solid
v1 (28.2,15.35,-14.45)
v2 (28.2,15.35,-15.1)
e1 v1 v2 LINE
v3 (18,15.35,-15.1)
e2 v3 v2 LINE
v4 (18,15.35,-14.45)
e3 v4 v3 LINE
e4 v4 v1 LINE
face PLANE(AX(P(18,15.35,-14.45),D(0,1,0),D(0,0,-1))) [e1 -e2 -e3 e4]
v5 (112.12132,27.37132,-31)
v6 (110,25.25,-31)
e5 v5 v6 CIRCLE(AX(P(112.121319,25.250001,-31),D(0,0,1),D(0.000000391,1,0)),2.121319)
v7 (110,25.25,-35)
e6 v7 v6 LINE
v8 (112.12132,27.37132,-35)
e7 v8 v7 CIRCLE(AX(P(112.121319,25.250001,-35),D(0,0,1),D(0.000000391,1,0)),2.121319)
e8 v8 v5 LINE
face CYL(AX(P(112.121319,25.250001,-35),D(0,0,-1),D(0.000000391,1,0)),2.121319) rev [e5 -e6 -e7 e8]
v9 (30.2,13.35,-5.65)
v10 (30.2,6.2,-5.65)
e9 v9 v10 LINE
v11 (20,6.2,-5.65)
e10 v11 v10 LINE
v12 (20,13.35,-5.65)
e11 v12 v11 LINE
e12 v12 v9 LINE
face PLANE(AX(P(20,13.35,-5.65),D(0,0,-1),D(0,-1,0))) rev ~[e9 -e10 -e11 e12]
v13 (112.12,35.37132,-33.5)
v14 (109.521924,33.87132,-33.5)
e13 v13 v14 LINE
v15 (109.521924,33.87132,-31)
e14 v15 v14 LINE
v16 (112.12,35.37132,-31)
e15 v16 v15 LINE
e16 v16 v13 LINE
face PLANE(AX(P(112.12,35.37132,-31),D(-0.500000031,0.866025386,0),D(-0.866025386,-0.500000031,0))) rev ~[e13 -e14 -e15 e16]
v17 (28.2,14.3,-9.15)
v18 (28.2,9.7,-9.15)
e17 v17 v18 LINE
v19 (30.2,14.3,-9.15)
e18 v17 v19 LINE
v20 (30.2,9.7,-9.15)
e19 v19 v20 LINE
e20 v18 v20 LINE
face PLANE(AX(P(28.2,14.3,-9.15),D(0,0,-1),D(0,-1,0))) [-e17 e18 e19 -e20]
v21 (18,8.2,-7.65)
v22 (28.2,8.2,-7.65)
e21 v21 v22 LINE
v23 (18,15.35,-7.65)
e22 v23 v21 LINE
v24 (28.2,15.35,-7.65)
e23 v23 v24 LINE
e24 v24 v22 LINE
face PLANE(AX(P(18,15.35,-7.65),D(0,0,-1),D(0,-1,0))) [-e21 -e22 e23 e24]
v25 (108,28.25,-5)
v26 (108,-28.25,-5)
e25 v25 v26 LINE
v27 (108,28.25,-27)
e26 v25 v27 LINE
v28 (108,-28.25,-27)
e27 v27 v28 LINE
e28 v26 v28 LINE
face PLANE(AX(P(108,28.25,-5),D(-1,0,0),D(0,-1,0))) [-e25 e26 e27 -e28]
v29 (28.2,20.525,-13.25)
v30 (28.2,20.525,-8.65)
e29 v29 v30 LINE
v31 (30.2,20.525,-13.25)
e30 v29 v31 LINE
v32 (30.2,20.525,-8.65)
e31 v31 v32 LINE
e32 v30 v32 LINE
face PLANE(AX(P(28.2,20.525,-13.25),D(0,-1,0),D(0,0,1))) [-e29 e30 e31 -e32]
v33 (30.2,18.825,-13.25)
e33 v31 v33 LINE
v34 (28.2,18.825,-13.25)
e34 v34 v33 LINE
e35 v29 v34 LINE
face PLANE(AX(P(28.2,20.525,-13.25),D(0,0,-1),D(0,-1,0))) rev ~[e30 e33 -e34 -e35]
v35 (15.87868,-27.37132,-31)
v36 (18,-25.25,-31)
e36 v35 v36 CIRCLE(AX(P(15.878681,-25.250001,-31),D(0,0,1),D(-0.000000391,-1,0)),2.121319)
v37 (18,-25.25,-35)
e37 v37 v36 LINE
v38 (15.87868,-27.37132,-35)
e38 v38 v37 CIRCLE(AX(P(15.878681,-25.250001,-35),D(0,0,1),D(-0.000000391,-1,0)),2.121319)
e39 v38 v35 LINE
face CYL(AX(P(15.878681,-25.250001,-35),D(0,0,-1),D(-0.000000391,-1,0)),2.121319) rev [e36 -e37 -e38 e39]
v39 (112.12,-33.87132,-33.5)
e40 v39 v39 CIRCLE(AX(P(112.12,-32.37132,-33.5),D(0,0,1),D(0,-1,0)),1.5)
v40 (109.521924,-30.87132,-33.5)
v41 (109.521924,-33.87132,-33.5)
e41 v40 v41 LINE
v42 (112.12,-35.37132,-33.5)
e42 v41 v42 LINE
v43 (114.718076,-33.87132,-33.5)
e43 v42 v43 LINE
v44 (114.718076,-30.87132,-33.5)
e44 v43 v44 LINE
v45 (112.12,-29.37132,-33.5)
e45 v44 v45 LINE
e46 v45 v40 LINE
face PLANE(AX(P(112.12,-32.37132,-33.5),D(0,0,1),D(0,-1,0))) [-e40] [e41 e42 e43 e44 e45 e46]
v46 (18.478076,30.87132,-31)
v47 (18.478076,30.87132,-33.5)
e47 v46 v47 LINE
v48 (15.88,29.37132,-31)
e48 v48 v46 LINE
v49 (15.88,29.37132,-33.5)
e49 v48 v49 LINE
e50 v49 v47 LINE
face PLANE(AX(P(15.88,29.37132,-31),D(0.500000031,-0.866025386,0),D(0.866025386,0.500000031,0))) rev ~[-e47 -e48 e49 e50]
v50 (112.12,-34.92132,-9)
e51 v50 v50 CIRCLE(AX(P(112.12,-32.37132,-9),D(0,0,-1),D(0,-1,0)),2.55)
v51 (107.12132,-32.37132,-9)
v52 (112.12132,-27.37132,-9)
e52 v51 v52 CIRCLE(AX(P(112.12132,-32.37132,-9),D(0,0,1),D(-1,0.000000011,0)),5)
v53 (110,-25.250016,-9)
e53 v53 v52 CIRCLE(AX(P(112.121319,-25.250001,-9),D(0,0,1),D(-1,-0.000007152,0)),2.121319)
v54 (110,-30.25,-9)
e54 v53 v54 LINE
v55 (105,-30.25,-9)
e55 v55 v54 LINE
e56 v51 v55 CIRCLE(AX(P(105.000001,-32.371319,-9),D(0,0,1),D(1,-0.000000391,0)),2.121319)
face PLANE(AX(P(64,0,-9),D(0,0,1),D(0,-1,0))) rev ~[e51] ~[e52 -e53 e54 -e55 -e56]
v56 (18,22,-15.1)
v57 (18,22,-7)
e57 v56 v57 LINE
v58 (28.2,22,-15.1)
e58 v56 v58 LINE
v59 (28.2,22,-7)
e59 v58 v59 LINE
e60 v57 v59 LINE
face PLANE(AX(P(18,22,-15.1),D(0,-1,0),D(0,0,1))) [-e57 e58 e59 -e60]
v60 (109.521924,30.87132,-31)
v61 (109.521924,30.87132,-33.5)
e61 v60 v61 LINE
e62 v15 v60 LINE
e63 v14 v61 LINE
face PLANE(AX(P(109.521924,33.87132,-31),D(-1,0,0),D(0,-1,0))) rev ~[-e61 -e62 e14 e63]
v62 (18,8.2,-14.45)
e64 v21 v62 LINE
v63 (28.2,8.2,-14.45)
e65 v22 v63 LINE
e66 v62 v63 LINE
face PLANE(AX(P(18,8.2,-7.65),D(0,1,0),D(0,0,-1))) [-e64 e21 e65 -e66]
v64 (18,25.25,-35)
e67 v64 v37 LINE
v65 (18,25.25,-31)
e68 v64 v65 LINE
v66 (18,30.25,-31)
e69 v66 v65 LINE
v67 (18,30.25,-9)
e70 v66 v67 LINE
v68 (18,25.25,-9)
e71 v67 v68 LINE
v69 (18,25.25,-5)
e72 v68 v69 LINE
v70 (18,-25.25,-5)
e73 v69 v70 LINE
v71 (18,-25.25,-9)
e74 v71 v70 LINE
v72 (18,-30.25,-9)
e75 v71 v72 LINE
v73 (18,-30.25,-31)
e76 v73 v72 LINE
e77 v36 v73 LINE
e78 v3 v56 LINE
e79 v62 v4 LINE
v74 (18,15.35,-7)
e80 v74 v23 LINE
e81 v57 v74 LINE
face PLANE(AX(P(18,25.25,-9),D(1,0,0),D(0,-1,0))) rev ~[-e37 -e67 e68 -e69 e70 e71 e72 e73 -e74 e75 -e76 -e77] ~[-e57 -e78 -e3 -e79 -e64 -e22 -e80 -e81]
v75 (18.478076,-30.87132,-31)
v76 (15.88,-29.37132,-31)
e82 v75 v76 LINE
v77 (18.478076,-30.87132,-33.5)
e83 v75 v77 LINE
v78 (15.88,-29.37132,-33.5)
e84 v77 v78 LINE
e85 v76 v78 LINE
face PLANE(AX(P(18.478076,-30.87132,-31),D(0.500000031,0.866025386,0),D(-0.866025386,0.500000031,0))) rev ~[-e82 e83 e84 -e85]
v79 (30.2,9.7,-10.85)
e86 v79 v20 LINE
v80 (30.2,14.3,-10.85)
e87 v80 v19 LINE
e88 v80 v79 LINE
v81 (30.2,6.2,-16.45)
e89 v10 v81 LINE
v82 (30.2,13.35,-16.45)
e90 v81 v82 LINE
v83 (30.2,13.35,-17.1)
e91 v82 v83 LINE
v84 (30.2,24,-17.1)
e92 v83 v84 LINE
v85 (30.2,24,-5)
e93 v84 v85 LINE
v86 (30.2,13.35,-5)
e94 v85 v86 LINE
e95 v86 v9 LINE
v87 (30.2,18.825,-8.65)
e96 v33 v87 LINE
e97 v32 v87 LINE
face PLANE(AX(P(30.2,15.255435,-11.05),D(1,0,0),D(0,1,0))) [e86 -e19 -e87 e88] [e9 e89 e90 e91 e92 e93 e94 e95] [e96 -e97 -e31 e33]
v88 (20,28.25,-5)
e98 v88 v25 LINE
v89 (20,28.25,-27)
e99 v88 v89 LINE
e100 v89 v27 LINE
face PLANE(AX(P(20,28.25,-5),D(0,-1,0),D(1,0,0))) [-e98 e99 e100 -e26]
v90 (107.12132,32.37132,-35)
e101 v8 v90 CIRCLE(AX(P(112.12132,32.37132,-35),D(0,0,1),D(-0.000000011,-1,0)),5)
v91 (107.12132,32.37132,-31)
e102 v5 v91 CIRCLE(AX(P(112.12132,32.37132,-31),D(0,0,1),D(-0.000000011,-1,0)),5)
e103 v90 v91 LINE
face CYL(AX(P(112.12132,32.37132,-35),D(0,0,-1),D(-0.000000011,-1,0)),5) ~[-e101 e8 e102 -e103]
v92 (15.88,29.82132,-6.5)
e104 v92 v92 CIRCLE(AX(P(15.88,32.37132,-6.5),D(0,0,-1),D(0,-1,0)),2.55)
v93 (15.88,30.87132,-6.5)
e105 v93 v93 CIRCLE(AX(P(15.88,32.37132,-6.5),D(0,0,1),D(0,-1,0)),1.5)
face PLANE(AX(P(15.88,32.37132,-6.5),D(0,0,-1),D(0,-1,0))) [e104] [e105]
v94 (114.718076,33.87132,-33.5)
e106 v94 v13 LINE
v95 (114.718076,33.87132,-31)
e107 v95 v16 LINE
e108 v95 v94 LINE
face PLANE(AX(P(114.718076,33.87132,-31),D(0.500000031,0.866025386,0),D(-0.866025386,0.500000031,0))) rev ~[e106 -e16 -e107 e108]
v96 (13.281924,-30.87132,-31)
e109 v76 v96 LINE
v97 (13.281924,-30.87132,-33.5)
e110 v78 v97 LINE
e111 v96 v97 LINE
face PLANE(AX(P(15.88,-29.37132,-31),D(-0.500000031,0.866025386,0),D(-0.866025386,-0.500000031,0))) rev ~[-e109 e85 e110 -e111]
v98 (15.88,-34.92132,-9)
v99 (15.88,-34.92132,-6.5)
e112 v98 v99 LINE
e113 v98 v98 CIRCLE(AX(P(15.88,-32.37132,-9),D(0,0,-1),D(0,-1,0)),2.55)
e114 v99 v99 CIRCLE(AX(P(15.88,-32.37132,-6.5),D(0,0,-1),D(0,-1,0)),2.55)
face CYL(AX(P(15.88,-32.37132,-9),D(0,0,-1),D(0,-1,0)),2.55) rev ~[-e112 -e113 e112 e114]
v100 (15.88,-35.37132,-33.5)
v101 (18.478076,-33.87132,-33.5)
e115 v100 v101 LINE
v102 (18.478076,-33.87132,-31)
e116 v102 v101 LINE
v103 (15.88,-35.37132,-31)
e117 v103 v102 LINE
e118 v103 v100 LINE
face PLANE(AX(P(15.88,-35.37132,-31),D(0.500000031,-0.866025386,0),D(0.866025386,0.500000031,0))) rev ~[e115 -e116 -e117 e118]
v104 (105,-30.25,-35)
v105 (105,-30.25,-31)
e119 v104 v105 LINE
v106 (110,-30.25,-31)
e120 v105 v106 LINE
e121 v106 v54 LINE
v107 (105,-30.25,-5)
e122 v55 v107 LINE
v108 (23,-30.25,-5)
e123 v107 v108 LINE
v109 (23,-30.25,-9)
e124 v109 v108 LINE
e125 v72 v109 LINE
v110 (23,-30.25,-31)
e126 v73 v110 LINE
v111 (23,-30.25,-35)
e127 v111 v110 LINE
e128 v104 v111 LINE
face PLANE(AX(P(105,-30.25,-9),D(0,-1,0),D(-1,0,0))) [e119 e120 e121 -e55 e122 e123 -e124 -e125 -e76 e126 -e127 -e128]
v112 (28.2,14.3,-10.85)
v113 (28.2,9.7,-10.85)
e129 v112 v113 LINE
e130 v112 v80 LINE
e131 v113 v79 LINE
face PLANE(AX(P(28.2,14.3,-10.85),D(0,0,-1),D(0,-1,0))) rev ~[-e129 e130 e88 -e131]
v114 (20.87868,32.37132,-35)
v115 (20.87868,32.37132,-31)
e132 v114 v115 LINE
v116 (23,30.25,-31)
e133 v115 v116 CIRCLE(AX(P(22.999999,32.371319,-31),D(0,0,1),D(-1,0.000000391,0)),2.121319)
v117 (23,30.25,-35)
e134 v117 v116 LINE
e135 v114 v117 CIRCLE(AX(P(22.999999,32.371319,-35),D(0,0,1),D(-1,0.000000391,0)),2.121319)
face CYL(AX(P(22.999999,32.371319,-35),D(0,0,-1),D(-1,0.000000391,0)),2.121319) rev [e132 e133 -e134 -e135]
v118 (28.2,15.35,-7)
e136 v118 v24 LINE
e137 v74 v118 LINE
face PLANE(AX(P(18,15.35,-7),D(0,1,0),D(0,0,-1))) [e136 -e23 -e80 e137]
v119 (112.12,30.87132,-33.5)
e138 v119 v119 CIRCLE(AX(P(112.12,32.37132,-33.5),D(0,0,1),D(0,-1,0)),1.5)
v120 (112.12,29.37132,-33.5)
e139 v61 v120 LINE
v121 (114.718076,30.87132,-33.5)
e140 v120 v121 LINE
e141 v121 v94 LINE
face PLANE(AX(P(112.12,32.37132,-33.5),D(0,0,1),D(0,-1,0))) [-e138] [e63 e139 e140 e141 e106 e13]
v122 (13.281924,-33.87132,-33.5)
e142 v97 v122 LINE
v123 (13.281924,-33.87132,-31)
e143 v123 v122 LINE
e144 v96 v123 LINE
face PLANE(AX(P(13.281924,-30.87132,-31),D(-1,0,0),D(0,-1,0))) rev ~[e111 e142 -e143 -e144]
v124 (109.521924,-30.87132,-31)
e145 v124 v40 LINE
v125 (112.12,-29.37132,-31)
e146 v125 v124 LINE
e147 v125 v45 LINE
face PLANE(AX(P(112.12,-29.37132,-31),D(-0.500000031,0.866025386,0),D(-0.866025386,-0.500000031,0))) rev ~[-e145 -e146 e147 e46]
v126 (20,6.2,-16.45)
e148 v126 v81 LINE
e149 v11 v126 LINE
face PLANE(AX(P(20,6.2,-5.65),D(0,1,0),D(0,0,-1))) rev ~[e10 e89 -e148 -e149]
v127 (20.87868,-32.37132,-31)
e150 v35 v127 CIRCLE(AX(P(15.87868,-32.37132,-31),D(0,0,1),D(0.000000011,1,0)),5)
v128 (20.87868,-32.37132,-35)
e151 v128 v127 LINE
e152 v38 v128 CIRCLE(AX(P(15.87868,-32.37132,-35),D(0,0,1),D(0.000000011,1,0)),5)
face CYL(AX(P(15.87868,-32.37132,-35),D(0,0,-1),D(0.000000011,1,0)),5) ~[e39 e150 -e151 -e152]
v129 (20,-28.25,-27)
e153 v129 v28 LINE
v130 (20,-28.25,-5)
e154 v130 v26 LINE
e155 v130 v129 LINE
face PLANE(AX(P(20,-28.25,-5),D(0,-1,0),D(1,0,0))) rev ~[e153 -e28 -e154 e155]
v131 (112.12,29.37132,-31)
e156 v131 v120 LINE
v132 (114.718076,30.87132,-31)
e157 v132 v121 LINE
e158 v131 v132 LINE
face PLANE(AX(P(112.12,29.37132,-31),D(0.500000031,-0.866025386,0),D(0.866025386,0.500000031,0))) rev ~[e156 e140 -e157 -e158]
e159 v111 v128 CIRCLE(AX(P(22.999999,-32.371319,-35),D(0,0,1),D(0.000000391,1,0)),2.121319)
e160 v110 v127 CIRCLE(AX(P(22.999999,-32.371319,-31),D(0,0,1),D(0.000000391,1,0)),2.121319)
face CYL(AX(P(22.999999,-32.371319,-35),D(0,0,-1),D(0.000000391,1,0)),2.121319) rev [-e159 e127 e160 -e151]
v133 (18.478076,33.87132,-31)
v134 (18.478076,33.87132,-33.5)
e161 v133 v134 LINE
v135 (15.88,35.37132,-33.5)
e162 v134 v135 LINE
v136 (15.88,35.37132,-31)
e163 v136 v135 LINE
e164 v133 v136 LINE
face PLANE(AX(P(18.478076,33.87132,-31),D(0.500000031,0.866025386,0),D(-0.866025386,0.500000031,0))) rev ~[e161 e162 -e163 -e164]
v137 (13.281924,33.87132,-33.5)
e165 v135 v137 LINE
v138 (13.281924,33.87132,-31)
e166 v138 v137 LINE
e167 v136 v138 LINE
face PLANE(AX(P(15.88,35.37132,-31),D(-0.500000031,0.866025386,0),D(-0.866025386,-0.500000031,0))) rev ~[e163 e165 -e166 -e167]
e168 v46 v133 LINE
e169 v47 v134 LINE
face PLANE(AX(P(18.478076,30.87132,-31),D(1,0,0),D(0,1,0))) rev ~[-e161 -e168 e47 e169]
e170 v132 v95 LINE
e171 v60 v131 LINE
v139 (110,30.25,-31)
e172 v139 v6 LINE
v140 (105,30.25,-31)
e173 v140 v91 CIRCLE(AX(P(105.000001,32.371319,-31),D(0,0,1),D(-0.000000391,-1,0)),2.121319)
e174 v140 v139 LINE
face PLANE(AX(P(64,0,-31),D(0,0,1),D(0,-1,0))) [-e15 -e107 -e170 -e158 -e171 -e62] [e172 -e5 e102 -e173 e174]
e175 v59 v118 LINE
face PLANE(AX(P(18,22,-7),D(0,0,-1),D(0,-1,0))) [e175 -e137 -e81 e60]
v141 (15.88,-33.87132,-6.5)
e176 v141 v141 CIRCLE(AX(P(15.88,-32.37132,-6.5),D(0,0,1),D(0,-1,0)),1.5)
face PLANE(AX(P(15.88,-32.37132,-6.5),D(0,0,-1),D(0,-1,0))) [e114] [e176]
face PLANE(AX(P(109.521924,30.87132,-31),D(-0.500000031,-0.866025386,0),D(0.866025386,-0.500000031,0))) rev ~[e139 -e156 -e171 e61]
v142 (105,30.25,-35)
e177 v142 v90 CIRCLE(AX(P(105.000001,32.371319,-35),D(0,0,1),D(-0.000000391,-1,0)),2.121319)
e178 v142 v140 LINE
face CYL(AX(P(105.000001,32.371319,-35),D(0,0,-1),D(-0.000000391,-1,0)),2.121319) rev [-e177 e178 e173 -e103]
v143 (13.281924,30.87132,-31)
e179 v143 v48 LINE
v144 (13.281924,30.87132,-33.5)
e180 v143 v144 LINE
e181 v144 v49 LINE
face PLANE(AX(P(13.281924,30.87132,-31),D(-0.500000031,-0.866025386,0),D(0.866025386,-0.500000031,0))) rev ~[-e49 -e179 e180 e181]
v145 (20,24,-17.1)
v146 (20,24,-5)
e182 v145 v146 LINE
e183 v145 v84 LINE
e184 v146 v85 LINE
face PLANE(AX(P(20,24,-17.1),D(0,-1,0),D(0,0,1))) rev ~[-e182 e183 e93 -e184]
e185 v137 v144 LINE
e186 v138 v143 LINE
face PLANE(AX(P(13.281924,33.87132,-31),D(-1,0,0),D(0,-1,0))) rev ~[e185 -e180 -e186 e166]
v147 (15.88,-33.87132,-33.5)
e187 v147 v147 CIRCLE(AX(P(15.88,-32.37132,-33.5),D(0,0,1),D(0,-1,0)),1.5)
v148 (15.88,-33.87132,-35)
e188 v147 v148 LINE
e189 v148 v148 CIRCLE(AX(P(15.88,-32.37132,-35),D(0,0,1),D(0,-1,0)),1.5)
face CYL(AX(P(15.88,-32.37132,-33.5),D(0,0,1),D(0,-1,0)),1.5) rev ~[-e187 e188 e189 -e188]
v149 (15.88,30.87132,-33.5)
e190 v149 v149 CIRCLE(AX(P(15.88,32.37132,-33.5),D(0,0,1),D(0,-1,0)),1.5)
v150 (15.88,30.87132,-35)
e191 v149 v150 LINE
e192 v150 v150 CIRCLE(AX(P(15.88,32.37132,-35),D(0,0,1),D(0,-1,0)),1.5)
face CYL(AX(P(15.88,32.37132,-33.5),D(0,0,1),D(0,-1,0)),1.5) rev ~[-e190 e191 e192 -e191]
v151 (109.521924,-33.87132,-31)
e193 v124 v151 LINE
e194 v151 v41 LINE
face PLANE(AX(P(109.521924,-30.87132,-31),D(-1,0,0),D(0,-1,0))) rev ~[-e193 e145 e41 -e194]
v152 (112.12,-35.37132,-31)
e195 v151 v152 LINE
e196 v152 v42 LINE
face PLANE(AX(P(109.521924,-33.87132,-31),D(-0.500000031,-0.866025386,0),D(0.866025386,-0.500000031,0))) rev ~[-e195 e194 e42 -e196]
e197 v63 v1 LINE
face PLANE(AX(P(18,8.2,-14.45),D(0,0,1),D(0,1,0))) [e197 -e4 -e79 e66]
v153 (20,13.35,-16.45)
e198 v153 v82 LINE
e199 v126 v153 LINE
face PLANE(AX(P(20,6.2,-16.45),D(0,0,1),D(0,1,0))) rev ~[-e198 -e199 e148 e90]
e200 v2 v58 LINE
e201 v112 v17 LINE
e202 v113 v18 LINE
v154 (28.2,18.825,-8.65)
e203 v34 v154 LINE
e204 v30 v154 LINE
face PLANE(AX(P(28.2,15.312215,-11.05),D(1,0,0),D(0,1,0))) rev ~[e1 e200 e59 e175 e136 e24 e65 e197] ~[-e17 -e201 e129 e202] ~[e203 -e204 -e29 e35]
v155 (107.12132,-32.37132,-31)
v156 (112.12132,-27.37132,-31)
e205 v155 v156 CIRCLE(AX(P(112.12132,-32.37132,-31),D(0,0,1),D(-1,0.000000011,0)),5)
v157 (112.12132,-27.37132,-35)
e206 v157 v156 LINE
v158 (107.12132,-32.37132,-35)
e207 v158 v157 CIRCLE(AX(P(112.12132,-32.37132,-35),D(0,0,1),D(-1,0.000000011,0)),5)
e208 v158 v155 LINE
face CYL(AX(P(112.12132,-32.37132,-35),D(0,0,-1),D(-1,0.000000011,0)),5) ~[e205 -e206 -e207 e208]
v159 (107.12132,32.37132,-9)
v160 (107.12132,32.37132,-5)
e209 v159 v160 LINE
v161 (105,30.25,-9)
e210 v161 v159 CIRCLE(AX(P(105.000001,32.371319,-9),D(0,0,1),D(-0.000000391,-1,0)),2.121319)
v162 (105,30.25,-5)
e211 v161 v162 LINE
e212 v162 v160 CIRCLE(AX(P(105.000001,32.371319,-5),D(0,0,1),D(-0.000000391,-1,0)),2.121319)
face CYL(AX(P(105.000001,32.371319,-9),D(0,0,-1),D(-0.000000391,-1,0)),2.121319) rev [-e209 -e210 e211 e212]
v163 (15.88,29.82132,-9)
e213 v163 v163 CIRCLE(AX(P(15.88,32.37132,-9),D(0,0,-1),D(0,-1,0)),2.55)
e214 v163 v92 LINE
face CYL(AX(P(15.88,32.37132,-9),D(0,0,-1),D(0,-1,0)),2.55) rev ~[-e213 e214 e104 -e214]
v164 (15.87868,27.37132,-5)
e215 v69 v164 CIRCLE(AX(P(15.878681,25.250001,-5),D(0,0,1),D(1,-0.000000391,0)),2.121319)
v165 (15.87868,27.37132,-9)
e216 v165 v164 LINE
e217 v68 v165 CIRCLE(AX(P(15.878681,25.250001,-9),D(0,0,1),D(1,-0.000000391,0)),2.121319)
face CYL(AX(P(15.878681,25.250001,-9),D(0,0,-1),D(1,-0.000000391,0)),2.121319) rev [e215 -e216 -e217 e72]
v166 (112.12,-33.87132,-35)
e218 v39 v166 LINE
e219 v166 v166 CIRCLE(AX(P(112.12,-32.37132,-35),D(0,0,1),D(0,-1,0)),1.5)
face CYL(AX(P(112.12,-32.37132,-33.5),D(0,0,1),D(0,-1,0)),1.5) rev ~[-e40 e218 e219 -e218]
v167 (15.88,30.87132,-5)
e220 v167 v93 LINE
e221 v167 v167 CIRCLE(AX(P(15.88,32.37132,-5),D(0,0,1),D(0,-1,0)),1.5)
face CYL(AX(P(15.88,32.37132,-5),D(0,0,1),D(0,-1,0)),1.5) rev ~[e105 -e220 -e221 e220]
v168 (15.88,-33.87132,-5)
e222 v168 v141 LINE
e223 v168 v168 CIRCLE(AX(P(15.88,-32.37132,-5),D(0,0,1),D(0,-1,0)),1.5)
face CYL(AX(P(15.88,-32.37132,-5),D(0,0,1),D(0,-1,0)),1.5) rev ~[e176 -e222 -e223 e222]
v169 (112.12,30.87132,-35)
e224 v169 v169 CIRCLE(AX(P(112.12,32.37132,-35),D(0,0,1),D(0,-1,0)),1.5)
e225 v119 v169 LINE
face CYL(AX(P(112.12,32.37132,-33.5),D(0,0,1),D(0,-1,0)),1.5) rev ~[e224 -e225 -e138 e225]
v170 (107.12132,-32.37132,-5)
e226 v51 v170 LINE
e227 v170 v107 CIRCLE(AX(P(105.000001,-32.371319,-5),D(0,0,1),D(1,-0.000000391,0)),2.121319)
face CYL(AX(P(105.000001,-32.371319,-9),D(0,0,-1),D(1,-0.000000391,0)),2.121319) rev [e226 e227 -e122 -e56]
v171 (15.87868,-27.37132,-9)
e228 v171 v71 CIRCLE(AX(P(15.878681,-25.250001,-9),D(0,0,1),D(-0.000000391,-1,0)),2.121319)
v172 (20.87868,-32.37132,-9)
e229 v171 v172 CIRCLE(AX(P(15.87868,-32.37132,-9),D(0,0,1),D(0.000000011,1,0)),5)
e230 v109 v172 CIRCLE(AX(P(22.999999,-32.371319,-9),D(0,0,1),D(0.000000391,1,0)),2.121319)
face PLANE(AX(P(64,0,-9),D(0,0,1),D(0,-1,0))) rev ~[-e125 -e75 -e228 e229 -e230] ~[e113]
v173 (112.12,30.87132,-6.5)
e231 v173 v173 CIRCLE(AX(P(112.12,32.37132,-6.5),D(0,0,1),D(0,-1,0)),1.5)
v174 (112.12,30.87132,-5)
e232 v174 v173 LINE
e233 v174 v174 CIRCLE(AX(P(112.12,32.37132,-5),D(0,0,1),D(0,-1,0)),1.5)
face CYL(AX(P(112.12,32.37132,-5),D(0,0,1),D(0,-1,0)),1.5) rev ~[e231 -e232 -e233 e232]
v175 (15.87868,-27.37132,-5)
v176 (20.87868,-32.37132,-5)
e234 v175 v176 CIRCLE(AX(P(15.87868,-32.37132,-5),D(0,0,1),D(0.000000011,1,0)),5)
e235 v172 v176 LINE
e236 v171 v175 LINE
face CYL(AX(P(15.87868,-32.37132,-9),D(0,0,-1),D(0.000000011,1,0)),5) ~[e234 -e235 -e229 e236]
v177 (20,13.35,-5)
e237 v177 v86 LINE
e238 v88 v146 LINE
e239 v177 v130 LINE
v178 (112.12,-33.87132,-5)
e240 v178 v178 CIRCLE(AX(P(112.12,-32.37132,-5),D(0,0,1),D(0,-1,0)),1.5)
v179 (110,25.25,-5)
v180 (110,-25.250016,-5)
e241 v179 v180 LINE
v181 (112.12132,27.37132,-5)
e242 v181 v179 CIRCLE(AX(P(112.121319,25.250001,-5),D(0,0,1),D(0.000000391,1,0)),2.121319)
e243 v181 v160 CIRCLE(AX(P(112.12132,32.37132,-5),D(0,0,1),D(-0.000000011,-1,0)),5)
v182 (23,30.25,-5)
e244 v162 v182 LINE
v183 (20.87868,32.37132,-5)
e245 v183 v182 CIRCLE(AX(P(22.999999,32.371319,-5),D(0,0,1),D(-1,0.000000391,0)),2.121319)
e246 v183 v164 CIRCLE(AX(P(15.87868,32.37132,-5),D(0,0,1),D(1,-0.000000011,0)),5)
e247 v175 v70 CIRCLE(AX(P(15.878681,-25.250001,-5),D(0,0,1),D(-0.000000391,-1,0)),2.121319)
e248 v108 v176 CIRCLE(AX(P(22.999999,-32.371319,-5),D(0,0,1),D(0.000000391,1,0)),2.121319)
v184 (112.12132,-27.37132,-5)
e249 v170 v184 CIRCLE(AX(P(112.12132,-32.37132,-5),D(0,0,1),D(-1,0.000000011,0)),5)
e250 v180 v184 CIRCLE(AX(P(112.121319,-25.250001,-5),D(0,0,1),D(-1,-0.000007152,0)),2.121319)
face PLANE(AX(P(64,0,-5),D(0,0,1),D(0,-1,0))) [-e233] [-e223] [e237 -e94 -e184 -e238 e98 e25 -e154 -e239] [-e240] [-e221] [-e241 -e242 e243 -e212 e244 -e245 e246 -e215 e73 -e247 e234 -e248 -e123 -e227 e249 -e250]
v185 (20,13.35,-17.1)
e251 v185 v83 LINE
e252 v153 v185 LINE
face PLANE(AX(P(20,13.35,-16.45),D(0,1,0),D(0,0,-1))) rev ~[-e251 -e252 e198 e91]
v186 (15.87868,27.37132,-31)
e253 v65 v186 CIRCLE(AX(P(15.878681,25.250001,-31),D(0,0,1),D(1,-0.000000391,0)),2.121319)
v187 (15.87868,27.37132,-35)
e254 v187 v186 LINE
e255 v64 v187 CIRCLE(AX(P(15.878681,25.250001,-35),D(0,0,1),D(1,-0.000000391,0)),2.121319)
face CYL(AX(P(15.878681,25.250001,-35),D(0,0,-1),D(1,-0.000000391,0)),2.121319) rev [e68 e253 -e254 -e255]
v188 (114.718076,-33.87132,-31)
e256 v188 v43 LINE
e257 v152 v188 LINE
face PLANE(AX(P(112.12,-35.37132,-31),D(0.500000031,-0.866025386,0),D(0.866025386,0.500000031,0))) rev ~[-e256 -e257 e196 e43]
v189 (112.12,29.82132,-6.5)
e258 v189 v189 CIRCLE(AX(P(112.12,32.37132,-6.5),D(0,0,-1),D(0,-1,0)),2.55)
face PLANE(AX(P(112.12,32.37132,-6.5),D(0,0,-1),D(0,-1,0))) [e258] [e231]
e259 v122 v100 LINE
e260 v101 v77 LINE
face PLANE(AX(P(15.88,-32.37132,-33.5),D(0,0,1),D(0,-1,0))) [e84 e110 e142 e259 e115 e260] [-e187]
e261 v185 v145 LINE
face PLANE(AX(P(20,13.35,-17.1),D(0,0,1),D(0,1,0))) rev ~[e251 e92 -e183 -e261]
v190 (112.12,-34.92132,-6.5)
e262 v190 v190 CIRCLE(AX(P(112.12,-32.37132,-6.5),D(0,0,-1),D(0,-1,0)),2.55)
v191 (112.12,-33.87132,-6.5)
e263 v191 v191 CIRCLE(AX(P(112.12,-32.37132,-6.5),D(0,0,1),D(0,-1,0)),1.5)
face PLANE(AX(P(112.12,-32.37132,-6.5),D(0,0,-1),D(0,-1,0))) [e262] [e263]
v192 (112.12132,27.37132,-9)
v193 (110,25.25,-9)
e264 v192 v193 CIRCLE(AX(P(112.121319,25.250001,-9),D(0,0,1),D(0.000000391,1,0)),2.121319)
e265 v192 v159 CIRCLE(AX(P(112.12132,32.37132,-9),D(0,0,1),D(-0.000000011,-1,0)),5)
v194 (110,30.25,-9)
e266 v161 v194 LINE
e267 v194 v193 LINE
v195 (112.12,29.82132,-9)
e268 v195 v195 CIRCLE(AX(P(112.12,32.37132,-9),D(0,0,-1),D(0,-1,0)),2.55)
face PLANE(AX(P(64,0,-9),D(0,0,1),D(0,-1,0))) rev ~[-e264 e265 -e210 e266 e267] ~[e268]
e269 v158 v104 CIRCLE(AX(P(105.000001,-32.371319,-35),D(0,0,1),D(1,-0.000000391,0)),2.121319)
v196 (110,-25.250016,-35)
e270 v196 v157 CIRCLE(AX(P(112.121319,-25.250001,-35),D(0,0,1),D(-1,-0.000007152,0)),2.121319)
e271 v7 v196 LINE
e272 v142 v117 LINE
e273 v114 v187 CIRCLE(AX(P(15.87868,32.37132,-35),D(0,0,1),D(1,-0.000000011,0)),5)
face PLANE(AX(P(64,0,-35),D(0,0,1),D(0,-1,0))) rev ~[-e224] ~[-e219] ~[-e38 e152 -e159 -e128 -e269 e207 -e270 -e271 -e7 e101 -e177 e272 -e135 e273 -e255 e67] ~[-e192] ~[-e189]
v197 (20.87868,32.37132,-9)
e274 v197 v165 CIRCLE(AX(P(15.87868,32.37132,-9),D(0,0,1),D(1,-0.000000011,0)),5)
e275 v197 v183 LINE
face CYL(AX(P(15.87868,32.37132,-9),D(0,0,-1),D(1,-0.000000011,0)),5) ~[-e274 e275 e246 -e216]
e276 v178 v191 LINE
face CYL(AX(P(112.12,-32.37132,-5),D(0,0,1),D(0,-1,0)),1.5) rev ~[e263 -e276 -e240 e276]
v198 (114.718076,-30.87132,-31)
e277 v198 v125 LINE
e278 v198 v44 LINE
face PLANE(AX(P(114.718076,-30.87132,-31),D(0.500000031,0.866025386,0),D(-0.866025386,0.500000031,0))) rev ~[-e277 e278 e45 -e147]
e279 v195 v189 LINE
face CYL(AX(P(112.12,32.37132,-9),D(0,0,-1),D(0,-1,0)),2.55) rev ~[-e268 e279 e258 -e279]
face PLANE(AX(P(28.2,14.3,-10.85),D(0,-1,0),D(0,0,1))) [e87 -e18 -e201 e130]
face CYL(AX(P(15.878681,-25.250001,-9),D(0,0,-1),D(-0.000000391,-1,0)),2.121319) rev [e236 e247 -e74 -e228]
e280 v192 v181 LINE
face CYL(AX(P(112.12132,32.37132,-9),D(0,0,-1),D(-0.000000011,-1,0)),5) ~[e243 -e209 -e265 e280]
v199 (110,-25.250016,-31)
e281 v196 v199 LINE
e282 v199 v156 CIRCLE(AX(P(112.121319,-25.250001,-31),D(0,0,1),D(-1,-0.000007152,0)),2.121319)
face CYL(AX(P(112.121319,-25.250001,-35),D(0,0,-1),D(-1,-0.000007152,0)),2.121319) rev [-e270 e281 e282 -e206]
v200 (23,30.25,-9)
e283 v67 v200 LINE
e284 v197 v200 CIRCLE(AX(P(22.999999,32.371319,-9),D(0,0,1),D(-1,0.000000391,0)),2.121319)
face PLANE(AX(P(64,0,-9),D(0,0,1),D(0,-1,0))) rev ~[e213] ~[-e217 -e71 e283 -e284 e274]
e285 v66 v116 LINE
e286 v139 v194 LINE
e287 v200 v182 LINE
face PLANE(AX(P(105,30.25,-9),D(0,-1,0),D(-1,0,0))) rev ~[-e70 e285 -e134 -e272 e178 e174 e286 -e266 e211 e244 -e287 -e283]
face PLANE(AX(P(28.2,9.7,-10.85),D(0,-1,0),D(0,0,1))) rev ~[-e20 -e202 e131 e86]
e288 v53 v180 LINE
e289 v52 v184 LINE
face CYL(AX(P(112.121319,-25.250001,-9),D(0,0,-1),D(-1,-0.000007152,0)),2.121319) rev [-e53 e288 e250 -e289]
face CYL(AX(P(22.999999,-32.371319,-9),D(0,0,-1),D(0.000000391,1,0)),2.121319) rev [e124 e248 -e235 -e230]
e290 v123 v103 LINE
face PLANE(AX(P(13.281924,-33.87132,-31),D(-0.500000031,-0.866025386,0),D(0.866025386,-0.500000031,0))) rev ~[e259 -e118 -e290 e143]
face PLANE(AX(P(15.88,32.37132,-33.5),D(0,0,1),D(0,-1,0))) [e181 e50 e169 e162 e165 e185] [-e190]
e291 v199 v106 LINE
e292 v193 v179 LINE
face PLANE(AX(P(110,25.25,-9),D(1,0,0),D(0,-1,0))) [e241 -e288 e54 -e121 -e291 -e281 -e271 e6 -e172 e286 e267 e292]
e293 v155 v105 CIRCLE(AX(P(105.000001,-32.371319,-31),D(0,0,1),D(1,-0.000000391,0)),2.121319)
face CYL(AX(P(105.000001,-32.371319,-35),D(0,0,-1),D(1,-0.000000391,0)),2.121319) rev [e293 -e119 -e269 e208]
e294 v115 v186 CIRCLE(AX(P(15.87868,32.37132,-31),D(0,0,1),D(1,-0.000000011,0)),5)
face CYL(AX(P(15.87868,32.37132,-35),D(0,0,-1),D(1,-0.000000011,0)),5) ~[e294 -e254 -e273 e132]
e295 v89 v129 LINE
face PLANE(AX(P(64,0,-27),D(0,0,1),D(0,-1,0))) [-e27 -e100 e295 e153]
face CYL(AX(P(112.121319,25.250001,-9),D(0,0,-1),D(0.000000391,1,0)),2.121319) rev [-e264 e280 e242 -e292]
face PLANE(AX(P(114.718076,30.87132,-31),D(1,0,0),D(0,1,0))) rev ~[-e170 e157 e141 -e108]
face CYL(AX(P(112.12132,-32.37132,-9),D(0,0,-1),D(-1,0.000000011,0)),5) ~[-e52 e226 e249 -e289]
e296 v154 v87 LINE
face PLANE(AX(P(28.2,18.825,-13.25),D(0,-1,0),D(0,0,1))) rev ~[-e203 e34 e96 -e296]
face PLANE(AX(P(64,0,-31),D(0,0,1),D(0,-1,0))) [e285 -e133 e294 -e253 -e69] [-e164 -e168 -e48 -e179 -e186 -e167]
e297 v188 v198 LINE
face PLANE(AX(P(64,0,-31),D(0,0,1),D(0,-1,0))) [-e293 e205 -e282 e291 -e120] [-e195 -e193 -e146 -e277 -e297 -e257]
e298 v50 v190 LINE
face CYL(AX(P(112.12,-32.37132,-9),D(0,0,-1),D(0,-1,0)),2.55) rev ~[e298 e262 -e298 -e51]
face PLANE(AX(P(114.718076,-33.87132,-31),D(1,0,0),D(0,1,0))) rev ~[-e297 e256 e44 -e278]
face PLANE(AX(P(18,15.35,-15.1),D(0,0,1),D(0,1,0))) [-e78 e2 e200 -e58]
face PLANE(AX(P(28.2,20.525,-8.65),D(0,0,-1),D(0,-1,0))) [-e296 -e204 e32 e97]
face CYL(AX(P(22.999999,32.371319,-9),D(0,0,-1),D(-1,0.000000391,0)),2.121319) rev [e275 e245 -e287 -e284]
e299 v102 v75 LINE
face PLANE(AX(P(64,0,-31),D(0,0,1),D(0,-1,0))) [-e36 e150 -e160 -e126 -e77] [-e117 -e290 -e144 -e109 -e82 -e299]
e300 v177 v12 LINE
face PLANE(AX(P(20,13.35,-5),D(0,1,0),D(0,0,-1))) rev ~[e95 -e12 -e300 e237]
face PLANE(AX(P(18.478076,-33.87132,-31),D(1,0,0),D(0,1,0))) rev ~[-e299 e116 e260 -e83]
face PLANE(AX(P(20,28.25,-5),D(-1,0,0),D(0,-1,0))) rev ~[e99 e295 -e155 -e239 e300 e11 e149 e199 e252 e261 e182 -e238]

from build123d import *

# Parameters (mm, degrees)
PAD011_DEPTH            = 4
SKETCH073_W             = 60.5
SKETCH073_H             = 92
PAD012_DEPTH            = 22
POCKET017_DEPTH         = 2.5
SKETCH074_R             = 1.5
POCKET018_DEPTH         = 1.5
PAD013_DEPTH            = 4
SKETCH076_W             = 56.5
SKETCH076_H             = 88
POCKET019_DEPTH         = 22
SKETCH077_R             = 2.55
POCKET020_DEPTH         = 2.5
SKETCH078_R             = 1.5
POCKET021_DEPTH         = 1.5
PAD042_DEPTH            = 10.2
POCKET056_DEPTH         = 10.2
SKETCH111_W             = 1.7
SKETCH111_H             = 4.6
SKETCH111_W_2           = 4.6
SKETCH111_H_2           = 1.7
POCKET057_DEPTH         = 2
BODY004_PLACEMENT_ANGLE = 270


with BuildPart() as part:
    # Sketch071 → Pad011 (new body)
    with BuildSketch(Plane.XY):
        with BuildLine():
            ThreePointArc((-27.37132, 48.12132), (-35.906854, 51.656854), (-32.37132, 43.12132))
            ThreePointArc((-30.25, 41), (-30.87132, 42.5), (-32.37132, 43.12132))
            Line((-30.25, 41), (-30.25, -41))
            ThreePointArc((-32.37132, -43.12132), (-30.87132, -42.5), (-30.25, -41))
            ThreePointArc((-32.37132, -43.12132), (-35.906854, -51.656854), (-27.37132, -48.12132))
            ThreePointArc((-25.25, -46), (-26.75, -46.62132), (-27.37132, -48.12132))
            Line((-25.25, -46), (25.25, -46))
            ThreePointArc((27.37132, -48.12132), (26.75, -46.62132), (25.25, -46))
            ThreePointArc((27.37132, -48.12132), (35.906854, -51.656854), (32.37132, -43.12132))
            ThreePointArc((30.25, -41), (30.87132, -42.5), (32.37132, -43.12132))
            Line((30.25, 41), (30.25, -41))
            ThreePointArc((32.37132, 43.12132), (30.87132, 42.5), (30.25, 41))
            ThreePointArc((32.37132, 43.12132), (35.906854, 51.656854), (27.37132, 48.12132))
            ThreePointArc((25.250016, 46), (26.750006, 46.621326), (27.37132, 48.12132))
            Line((-25.25, 46), (25.250016, 46))
            ThreePointArc((-27.37132, 48.12132), (-26.75, 46.62132), (-25.25, 46))
        make_face()
    extrude(amount=PAD011_DEPTH)

    # Sketch073 (on Face18 of Pad011) → Pad012 (join)
    with BuildSketch(Plane.XY.offset(4)):
        Rectangle(SKETCH073_W, SKETCH073_H)
    extrude(amount=PAD012_DEPTH)

    # Sketch072 (on Face4 of Pad012) → Pocket017 (cut)
    with BuildSketch(Plane.XY.offset(4)):
        Polygon((-30.87132, 50.718076), (-33.87132, 50.718076), (-35.37132, 48.12), (-33.87132, 45.521924), (-30.87132, 45.521924), (-29.37132, 48.12), align=None)
        Polygon((33.87132, 50.718076), (30.87132, 50.718076), (29.37132, 48.12), (30.87132, 45.521924), (33.87132, 45.521924), (35.37132, 48.12), align=None)
        Polygon((33.87132, -45.521924), (30.87132, -45.521924), (29.37132, -48.12), (30.87132, -50.718076), (33.87132, -50.718076), (35.37132, -48.12), align=None)
        Polygon((-30.87132, -45.521924), (-33.87132, -45.521924), (-35.37132, -48.12), (-33.87132, -50.718076), (-30.87132, -50.718076), (-29.37132, -48.12), align=None)
    extrude(amount=-POCKET017_DEPTH, mode=Mode.SUBTRACT)

    # Sketch074 (on Face35 of Pocket017) → Pocket018 (cut)
    with BuildSketch(Plane.XY.offset(1.5)):
        with Locations((-32.37132, 48.12)):
            Circle(SKETCH074_R)
        with Locations((32.37132, 48.12)):
            Circle(SKETCH074_R)
        with Locations((-32.37132, -48.12)):
            Circle(SKETCH074_R)
        with Locations((32.37132, -48.12)):
            Circle(SKETCH074_R)
    extrude(amount=-POCKET018_DEPTH, mode=Mode.SUBTRACT)

    # Sketch075 (on Face8 of Pocket018) → Pad013 (join)
    with BuildSketch(Plane.XY.offset(26)):
        with BuildLine():
            ThreePointArc((-27.37132, 48.12132), (-35.906854, 51.656854), (-32.37132, 43.12132))
            ThreePointArc((-30.25, 41), (-30.87132, 42.5), (-32.37132, 43.12132))
            Line((-30.25, 41), (-30.25, -41))
            ThreePointArc((-32.37132, -43.12132), (-30.87132, -42.5), (-30.25, -41))
            ThreePointArc((-32.37132, -43.12132), (-35.906854, -51.656854), (-27.37132, -48.12132))
            ThreePointArc((-25.25, -46), (-26.75, -46.62132), (-27.37132, -48.12132))
            Line((-25.25, -46), (25.25, -46))
            ThreePointArc((27.37132, -48.12132), (26.75, -46.62132), (25.25, -46))
            ThreePointArc((27.37132, -48.12132), (35.906854, -51.656854), (32.37132, -43.12132))
            ThreePointArc((30.25, -41), (30.87132, -42.5), (32.37132, -43.12132))
            Line((30.25, 41), (30.25, -41))
            ThreePointArc((32.37132, 43.12132), (30.87132, 42.5), (30.25, 41))
            ThreePointArc((32.37132, 43.12132), (35.906854, 51.656854), (27.37132, 48.12132))
            ThreePointArc((25.250016, 46), (26.750006, 46.621326), (27.37132, 48.12132))
            Line((-25.25, 46), (25.250016, 46))
            ThreePointArc((-27.37132, 48.12132), (-26.75, 46.62132), (-25.25, 46))
        make_face()
    extrude(amount=PAD013_DEPTH)

    # Sketch076 (on Face57 of Pad013) → Pocket019 (cut)
    with BuildSketch(Plane.XY.offset(30)):
        Rectangle(SKETCH076_W, SKETCH076_H)
    extrude(amount=-POCKET019_DEPTH, mode=Mode.SUBTRACT)

    # Sketch077 (on Face36 of Pocket019) → Pocket020 (cut)
    with BuildSketch(Plane(origin=(0, 0, 26), x_dir=(1, 0, 0), z_dir=(0, 0, -1))):
        with Locations((-32.37132, 48.12)):
            Circle(SKETCH077_R)
        with Locations((32.37132, 48.12)):
            Circle(SKETCH077_R)
        with Locations((-32.37132, -48.12)):
            Circle(SKETCH077_R)
        with Locations((32.37132, -48.12)):
            Circle(SKETCH077_R)
    extrude(amount=-POCKET020_DEPTH, mode=Mode.SUBTRACT)

    # Sketch078 (on Face10 of Pocket020) → Pocket021 (cut)
    with BuildSketch(Plane.XY.offset(30)):
        with Locations((-32.37132, 48.12)):
            Circle(SKETCH078_R)
        with Locations((32.37132, 48.12)):
            Circle(SKETCH078_R)
        with Locations((-32.37132, -48.12)):
            Circle(SKETCH078_R)
        with Locations((32.37132, -48.12)):
            Circle(SKETCH078_R)
    extrude(amount=-POCKET021_DEPTH, mode=Mode.SUBTRACT)

    # Sketch110 → Pad042 (join)
    with BuildSketch(Plane(origin=(0, -44, 0), x_dir=(-1, 0, 0), z_dir=(0, 1, 0))):
        Polygon((13.35, 17.9), (24, 17.9), (24, 30), (13.35, 30), (13.35, 29.35), (6.2, 29.35), (6.2, 18.55), (13.35, 18.55), align=None)
    extrude(amount=PAD042_DEPTH)

    # Sketch109 (on Face22 of Pocket021) → Pocket056 (cut)
    with BuildSketch(Plane.XZ.offset(46)):
        Polygon((-22, 28), (-15.35, 28), (-15.35, 27.35), (-8.2, 27.35), (-8.2, 20.55), (-15.35, 20.55), (-15.35, 19.9), (-22, 19.9), align=None)
    extrude(amount=-POCKET056_DEPTH, mode=Mode.SUBTRACT)

    # Sketch111 (on Face104 of Pocket056) → Pocket057 (cut)
    with BuildSketch(Plane.XZ.offset(35.8)):
        with Locations((-19.675, 24.05)):
            Rectangle(SKETCH111_W, SKETCH111_H)
        with Locations((-12, 25)):
            Rectangle(SKETCH111_W_2, SKETCH111_H_2)
    extrude(amount=-POCKET057_DEPTH, mode=Mode.SUBTRACT)


with BuildPart() as part_1:
    # Body004 placement: moved
    add(part.part.moved(Location((64, 0, -35))).rotate(Axis((64, 0, -35), (0, 0, 1)), BODY004_PLACEMENT_ANGLE))


solid = part_1.part
